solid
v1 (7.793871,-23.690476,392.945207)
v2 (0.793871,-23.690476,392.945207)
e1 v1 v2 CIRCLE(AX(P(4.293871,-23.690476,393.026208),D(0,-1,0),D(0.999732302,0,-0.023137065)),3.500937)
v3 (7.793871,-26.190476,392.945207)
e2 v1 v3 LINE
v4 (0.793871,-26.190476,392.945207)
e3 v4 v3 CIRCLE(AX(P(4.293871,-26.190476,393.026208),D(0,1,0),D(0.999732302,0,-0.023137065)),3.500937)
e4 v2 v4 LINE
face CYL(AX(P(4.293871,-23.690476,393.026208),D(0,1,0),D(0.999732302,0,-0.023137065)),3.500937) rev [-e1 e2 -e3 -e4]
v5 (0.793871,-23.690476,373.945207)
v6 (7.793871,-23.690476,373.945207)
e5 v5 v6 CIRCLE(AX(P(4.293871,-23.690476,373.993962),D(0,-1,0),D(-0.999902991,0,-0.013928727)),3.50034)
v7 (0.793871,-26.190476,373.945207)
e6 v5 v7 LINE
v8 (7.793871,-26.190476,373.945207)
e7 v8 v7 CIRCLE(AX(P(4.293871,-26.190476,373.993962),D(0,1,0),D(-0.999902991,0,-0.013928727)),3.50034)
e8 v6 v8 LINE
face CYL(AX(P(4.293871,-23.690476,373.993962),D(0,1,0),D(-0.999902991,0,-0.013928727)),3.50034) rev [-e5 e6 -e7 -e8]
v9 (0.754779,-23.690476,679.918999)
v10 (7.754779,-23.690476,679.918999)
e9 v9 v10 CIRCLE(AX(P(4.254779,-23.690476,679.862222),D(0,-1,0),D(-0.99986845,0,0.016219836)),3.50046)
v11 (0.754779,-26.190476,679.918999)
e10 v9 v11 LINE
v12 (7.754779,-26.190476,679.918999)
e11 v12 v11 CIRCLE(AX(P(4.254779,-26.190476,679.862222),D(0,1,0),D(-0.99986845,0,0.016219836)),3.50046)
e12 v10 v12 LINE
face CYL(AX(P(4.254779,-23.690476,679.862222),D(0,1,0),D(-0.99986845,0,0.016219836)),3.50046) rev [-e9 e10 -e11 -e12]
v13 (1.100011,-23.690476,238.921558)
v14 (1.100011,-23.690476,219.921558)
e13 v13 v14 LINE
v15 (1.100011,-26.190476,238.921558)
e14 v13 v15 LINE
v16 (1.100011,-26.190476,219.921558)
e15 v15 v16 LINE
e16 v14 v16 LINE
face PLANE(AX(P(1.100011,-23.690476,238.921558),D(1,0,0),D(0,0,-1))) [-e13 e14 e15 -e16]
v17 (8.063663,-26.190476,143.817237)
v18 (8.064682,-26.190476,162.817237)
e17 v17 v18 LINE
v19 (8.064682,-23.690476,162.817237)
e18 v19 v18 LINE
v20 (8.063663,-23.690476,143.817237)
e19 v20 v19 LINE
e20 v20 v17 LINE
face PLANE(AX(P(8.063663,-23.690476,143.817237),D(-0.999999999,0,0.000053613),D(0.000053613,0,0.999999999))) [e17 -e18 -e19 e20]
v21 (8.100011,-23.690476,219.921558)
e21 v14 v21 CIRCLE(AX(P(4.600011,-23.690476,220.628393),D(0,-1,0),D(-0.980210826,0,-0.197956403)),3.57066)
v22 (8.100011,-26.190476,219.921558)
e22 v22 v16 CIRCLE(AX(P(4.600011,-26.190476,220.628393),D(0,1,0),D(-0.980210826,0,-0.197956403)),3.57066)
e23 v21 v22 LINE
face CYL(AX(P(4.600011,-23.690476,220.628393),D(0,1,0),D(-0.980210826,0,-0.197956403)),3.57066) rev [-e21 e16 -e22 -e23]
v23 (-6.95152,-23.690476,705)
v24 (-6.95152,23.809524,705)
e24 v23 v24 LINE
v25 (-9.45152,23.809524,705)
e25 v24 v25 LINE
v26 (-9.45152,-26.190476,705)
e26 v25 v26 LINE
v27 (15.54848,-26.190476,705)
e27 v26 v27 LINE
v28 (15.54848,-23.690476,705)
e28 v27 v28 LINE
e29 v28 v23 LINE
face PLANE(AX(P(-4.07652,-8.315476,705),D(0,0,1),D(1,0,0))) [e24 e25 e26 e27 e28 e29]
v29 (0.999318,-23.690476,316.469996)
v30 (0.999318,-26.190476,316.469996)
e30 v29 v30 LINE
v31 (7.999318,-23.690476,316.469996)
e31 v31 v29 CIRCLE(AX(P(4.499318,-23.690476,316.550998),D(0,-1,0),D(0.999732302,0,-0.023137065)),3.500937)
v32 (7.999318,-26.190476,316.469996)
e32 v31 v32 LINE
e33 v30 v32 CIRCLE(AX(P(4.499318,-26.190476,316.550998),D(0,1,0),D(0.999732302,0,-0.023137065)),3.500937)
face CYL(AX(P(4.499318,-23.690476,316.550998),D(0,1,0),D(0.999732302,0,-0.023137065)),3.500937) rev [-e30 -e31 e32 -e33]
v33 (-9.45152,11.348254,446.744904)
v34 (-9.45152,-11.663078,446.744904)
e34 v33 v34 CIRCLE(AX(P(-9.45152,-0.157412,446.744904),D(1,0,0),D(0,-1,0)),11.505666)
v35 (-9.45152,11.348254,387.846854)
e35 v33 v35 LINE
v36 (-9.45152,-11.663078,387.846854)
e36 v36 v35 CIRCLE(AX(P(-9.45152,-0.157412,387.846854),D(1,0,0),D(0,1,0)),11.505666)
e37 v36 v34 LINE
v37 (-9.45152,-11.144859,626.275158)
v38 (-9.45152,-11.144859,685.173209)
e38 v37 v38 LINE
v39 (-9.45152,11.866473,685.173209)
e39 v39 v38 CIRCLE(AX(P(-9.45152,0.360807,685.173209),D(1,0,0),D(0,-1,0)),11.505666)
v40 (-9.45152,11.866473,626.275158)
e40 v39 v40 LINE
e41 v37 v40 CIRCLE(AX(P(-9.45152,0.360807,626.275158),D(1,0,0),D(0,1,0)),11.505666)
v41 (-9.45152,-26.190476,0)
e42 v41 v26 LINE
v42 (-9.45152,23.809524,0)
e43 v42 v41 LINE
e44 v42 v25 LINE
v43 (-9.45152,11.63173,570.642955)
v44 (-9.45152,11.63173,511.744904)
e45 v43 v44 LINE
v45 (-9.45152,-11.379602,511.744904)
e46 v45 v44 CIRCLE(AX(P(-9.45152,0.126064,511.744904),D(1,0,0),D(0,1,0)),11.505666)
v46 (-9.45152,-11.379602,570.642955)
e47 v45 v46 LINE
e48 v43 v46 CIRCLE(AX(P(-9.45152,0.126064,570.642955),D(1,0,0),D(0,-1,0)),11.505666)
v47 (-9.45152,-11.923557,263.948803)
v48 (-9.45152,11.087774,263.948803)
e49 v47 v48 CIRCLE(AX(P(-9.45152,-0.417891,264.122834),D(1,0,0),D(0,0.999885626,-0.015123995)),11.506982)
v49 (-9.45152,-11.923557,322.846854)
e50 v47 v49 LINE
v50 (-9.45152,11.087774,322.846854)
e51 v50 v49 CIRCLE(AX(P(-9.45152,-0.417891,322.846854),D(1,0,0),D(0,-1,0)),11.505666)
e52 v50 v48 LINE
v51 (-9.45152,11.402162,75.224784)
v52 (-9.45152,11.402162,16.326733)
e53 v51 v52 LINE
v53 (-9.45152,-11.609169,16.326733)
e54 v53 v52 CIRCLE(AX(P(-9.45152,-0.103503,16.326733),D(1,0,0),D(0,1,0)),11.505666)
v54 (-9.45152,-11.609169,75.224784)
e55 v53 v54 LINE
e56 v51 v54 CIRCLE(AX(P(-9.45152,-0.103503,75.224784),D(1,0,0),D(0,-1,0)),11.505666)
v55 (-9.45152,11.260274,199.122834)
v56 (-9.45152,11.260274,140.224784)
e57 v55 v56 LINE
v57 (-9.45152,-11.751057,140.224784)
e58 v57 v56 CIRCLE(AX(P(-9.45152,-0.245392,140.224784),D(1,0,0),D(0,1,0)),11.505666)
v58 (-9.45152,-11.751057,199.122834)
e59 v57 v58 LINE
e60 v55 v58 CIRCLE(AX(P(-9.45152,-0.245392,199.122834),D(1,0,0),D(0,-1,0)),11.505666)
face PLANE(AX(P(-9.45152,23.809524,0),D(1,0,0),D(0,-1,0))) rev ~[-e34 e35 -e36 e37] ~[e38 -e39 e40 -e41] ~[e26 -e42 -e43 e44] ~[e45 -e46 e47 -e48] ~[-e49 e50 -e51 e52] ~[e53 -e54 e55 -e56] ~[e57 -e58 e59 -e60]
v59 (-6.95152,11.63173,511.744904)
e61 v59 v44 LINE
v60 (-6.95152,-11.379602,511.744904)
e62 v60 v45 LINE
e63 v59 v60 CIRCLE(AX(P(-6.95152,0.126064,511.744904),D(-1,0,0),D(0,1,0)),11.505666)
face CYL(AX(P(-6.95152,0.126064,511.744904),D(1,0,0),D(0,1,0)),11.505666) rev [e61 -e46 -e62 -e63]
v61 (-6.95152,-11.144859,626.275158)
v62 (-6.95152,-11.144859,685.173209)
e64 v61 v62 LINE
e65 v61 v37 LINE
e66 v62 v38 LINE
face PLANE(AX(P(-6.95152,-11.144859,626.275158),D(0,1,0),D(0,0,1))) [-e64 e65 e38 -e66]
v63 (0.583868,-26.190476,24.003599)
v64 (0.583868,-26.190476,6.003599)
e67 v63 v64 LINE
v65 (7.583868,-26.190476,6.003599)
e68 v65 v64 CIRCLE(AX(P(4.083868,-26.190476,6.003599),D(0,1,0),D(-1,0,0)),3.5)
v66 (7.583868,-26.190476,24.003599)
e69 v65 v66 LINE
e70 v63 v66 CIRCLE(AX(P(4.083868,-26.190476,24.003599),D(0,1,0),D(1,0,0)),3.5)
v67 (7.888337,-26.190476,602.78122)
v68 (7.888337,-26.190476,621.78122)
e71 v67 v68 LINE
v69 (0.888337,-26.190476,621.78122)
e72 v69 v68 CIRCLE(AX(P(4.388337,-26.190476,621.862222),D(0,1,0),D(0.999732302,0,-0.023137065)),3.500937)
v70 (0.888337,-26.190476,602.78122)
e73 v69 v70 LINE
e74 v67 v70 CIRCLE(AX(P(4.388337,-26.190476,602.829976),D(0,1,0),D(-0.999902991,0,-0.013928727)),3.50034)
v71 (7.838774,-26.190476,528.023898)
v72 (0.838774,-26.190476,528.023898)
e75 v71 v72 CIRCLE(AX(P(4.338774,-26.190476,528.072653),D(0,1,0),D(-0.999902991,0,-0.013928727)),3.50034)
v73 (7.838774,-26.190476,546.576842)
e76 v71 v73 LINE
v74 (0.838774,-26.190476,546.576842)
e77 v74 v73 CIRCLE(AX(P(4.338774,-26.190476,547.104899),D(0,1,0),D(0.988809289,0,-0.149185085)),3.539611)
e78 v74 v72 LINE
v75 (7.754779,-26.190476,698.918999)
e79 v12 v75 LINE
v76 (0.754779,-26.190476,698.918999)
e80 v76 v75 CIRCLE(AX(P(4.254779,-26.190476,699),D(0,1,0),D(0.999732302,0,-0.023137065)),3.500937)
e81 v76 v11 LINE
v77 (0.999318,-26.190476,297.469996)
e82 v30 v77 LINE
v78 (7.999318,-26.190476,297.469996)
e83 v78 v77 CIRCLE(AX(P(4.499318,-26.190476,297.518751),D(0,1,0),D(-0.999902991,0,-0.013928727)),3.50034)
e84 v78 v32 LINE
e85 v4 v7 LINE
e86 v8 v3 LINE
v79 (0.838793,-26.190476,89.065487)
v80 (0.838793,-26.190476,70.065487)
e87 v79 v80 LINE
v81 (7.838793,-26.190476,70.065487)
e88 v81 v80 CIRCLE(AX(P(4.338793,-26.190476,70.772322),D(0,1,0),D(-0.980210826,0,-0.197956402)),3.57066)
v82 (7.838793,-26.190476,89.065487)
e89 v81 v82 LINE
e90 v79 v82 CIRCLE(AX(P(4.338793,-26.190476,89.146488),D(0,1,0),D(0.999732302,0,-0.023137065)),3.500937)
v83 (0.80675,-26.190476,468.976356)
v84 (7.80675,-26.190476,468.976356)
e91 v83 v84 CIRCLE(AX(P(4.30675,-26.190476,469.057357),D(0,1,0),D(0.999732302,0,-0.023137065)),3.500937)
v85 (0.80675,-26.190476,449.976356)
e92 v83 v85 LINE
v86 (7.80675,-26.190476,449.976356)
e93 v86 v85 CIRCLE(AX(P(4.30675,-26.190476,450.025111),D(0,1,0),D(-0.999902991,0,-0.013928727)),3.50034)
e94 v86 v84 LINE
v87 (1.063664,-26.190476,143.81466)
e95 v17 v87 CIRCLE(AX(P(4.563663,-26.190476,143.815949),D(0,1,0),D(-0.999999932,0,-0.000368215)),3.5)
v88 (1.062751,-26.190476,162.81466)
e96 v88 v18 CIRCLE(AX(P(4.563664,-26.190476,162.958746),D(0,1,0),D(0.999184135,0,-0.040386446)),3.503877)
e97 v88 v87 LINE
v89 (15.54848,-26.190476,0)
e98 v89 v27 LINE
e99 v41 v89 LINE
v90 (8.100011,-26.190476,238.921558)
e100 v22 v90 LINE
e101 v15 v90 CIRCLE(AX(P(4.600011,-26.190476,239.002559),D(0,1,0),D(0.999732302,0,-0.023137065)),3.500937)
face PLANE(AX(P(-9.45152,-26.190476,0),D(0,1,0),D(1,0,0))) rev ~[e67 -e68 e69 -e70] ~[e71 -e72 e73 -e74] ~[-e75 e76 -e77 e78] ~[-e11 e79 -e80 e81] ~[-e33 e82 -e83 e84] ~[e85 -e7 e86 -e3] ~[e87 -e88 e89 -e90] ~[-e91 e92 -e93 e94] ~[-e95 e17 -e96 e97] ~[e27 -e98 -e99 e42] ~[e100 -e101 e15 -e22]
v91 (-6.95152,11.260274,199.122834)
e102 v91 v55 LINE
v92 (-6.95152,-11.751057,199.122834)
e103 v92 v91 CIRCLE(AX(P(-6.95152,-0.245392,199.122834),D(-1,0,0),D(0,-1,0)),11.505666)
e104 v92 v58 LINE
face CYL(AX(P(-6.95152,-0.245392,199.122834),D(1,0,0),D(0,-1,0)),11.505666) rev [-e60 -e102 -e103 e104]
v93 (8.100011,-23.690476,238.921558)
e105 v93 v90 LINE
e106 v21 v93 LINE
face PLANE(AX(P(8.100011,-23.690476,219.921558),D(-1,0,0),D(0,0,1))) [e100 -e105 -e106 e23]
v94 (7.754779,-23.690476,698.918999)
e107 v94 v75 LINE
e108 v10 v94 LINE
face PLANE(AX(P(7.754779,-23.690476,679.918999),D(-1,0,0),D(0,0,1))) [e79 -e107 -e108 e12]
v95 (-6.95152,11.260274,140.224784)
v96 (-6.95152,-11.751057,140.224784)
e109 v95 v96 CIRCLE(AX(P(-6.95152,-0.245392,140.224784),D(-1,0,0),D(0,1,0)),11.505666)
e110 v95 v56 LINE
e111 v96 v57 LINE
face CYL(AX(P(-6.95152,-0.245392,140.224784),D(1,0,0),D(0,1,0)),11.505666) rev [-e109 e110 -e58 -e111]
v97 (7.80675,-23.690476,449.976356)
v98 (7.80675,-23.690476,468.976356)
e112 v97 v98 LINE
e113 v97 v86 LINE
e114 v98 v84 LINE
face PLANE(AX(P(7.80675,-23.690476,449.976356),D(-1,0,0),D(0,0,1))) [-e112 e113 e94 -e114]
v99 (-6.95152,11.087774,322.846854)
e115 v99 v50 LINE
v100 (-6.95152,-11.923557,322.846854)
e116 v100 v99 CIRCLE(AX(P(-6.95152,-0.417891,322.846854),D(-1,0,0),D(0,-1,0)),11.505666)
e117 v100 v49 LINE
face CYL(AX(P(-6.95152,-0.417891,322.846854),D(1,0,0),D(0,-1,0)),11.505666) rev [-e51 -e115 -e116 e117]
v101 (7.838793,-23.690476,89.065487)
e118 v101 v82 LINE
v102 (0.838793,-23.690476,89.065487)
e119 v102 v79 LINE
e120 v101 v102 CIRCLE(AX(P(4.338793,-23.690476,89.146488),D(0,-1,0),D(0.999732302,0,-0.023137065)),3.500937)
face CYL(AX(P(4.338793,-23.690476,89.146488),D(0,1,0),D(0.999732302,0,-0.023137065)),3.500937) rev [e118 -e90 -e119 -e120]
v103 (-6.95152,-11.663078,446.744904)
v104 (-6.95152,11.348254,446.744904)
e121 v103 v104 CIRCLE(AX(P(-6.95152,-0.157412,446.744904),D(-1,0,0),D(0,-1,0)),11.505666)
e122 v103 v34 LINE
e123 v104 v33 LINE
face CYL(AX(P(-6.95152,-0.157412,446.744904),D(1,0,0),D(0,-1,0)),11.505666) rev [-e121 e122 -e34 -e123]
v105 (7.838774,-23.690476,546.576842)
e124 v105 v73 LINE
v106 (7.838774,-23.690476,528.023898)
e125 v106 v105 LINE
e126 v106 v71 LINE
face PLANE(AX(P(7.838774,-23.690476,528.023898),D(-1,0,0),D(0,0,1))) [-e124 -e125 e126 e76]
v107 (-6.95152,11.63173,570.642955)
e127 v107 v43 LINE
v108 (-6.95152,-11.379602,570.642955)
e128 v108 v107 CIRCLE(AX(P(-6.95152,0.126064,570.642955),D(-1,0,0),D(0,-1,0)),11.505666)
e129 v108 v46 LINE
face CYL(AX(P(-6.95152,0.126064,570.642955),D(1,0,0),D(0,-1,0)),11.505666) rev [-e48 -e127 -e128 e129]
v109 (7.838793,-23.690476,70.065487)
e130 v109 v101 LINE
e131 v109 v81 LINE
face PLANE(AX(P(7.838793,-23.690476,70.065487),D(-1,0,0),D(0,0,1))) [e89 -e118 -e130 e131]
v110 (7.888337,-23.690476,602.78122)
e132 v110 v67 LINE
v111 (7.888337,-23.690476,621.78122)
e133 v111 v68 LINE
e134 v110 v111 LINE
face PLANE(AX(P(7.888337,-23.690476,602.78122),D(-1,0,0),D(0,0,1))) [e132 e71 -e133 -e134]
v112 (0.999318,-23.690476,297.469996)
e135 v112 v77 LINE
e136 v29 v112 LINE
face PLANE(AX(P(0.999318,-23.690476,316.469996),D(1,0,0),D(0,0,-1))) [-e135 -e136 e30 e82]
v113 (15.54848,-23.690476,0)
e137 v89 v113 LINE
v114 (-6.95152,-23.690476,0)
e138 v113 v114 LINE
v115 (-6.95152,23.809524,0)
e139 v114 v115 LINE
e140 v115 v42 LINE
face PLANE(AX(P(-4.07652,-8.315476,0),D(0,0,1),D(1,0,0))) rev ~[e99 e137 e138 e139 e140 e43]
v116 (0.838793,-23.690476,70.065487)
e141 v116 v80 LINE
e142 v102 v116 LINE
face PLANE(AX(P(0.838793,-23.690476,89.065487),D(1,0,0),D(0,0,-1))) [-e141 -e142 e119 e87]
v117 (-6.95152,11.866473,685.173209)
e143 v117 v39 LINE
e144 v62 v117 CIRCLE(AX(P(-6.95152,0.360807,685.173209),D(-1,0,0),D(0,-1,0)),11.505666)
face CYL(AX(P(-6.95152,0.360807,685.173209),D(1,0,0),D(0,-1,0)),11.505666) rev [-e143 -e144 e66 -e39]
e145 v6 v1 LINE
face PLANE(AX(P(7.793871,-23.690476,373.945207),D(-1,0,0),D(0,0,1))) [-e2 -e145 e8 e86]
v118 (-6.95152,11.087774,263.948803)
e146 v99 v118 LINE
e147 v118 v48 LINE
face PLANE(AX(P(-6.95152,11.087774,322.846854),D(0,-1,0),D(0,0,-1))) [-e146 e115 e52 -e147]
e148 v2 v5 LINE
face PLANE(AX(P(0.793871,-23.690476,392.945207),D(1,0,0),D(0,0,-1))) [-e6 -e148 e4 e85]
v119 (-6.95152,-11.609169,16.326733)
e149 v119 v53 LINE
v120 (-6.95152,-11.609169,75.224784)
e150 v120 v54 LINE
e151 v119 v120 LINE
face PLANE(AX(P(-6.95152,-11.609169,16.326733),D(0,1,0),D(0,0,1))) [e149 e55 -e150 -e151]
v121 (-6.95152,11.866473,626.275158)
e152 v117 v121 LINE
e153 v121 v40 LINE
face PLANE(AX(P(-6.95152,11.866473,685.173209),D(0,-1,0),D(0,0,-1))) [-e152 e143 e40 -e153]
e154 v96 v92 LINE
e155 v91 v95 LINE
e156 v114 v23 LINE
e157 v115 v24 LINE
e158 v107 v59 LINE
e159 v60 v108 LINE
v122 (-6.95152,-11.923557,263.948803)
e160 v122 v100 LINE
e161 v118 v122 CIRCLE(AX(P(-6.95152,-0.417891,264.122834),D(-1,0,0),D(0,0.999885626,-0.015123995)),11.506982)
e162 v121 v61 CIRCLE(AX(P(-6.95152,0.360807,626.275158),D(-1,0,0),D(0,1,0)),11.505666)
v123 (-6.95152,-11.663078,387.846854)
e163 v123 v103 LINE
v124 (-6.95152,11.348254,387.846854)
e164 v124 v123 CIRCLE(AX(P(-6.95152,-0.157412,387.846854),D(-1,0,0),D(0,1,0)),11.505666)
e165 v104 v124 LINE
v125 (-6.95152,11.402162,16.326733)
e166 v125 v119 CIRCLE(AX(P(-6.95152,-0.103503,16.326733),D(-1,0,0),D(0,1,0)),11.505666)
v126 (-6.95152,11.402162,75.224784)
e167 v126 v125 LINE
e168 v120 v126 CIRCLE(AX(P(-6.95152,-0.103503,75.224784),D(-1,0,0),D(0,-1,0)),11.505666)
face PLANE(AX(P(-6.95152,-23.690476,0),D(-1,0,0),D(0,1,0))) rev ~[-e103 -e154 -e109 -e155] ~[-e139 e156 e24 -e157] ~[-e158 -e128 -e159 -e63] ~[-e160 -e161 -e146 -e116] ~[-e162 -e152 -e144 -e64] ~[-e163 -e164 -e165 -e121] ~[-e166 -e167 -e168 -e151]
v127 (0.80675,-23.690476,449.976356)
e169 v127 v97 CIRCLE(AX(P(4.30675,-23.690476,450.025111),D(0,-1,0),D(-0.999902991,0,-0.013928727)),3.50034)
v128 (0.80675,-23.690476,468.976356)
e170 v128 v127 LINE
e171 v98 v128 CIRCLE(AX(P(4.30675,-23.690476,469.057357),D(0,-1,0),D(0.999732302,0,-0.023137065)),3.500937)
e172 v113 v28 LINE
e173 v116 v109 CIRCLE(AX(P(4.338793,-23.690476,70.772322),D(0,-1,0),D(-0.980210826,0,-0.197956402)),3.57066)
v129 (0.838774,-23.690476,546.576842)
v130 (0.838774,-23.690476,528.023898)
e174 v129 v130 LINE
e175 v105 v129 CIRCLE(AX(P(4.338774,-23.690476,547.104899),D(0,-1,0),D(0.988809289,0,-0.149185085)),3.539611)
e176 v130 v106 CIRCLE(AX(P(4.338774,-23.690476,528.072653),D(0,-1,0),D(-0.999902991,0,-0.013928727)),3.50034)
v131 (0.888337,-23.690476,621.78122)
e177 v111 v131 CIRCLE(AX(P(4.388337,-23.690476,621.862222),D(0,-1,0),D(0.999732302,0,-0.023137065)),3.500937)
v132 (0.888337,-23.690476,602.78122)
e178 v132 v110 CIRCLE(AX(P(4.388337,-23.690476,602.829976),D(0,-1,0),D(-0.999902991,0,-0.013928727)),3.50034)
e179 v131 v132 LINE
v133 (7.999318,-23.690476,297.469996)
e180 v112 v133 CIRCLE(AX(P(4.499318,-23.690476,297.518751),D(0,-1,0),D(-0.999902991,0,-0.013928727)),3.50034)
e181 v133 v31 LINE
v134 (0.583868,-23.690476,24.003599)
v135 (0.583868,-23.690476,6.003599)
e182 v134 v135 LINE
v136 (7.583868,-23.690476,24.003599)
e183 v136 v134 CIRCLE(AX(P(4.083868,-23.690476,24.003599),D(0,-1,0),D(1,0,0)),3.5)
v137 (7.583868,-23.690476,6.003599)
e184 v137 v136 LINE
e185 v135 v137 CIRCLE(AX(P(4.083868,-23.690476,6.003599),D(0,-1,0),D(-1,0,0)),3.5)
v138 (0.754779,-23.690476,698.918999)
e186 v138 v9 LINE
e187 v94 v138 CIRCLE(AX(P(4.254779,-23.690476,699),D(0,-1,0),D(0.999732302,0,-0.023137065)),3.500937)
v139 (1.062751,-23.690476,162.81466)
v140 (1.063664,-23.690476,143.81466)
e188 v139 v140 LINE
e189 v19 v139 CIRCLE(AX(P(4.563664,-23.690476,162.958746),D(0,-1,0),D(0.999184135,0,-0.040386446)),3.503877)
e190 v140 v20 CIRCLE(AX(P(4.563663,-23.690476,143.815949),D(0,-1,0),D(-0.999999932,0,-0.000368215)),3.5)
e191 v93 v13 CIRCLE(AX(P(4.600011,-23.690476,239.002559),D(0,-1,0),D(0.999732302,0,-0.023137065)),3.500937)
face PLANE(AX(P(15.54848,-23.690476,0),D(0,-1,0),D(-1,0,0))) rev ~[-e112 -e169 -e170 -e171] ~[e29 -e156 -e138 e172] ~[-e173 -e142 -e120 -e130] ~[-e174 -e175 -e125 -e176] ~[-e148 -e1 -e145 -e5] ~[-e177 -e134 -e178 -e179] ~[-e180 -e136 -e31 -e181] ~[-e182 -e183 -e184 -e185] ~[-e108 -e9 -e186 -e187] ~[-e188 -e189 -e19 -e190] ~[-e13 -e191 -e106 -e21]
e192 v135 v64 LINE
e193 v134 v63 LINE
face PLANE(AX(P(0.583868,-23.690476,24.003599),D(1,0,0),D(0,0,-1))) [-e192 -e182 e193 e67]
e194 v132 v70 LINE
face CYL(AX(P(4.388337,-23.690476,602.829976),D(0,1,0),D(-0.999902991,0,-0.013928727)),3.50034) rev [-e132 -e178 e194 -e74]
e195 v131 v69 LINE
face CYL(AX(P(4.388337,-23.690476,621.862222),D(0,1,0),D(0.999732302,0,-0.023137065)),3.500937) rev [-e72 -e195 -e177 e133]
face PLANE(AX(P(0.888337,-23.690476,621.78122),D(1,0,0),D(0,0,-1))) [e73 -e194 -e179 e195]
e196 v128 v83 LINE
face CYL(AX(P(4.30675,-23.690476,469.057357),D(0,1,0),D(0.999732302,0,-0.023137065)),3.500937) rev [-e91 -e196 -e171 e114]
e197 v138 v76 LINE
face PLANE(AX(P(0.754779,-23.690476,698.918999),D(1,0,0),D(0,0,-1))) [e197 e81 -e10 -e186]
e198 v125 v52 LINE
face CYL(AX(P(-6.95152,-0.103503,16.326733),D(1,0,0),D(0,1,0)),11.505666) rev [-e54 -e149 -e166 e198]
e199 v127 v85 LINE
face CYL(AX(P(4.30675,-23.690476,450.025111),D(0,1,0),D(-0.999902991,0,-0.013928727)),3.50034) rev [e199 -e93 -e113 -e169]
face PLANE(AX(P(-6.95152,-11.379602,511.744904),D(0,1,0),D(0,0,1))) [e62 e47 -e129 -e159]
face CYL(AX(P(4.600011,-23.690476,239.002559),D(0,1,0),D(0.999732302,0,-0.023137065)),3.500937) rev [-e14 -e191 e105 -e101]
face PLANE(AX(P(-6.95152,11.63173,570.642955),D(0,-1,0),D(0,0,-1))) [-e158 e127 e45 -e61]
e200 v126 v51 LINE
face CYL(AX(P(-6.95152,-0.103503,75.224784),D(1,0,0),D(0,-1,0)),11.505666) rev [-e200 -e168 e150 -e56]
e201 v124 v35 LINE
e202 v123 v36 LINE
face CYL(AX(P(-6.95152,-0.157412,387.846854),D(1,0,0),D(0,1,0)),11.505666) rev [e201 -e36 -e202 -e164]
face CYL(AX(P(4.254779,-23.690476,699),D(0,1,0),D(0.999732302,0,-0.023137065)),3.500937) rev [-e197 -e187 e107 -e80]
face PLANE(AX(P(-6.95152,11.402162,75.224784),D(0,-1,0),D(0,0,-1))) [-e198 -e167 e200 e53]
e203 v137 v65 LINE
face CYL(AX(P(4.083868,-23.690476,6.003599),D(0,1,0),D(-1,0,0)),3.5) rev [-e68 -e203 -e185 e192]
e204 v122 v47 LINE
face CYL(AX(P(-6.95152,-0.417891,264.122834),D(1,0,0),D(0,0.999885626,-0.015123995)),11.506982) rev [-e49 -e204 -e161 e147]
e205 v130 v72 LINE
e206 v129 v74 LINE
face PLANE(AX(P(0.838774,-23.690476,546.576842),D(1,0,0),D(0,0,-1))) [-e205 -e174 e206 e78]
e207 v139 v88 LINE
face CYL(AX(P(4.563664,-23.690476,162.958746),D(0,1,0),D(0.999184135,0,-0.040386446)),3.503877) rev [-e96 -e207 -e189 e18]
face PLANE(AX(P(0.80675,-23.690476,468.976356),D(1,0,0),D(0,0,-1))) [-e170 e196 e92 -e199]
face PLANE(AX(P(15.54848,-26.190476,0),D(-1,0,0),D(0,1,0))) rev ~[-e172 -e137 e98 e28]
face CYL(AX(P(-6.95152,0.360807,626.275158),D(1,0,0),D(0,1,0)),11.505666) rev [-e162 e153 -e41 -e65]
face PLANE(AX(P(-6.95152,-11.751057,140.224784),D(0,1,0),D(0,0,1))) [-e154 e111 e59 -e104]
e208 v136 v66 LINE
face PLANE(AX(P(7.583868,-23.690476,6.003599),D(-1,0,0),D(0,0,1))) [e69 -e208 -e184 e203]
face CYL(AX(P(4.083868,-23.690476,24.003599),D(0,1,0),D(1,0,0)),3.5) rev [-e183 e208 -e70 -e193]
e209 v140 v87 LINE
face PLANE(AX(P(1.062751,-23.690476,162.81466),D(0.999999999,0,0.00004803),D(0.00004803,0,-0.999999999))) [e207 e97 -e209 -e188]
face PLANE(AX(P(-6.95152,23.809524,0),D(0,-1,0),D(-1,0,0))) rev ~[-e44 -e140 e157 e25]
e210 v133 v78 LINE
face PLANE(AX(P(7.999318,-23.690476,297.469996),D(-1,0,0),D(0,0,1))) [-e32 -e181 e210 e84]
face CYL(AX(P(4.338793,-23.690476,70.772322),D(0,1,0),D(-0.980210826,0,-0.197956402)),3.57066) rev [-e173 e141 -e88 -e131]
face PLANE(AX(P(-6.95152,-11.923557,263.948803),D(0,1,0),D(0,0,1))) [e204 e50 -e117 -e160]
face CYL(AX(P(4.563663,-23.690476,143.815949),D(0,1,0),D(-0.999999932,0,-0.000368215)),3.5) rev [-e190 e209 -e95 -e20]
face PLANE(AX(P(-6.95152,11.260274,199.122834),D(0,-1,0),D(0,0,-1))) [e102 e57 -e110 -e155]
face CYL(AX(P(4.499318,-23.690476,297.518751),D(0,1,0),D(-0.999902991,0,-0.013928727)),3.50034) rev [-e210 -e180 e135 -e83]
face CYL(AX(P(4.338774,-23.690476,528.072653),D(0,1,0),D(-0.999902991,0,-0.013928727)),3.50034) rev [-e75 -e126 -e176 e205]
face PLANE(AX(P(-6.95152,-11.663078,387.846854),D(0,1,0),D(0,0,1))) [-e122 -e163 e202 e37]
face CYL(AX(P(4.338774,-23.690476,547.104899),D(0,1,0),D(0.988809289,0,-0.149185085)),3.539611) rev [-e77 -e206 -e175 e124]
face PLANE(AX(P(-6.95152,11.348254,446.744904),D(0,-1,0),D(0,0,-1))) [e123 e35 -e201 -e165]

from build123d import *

# Parameters (mm, degrees)
BOSS_EXTRUDE1_DEPTH = 705
CUT_EXTRUDE2_DEPTH  = 10
CUT_EXTRUDE3_DEPTH  = 10


with BuildPart() as part:
    # Sketch1 → Boss-Extrude1 (new body)
    with BuildSketch(Plane.XY):
        Polygon((-9.451520251, 23.80952381), (-9.451520251, -26.19047619), (15.548479749, -26.19047619), (15.548479749, -23.69047619), (-6.951520251, -23.69047619), (-6.951520251, 23.80952381), align=None)
    extrude(amount=BOSS_EXTRUDE1_DEPTH)

    # Sketch3 → Cut-Extrude2 (cut)
    with BuildSketch(Plane(origin=(0, -23.69047619, 0), x_dir=(1, 0, 0), z_dir=(0, 1, 0))):
        with BuildLine():
            Line((1.100010518, -238.921557585), (1.100010518, -219.921557585))
            ThreePointArc((1.100010518, -219.921557585), (4.600010518, -217.057732255), (8.100010518, -219.921557585))
            Line((8.100010518, -219.921557585), (8.100010518, -238.921557585))
            ThreePointArc((8.100010518, -238.921557585), (4.600010518, -242.50349619), (1.100010518, -238.921557585))
        make_face()
        with BuildLine():
            Line((1.062751019, -162.814659823), (1.06366359, -143.814659845))
            ThreePointArc((1.06366359, -143.814659845), (4.564952106, -140.315948836), (8.063663115, -143.817237352))
            Line((8.063663115, -143.817237352), (8.064681771, -162.817237325))
            ThreePointArc((8.064681771, -162.817237325), (4.562374007, -166.462622847), (1.062751019, -162.814659823))
        make_face()
        with BuildLine():
            Line((0.583868221, -24.003598612), (0.583868221, -6.003598612))
            ThreePointArc((0.583868221, -6.003598612), (4.083868221, -2.503598612), (7.583868221, -6.003598612))
            Line((7.583868221, -6.003598612), (7.583868221, -24.003598612))
            ThreePointArc((7.583868221, -24.003598612), (4.083868221, -27.503598612), (0.583868221, -24.003598612))
        make_face()
        with BuildLine():
            Line((0.999318179, -316.46999614), (0.999318179, -297.46999614))
            ThreePointArc((0.999318179, -297.46999614), (4.499318179, -294.01841185), (7.999318179, -297.46999614))
            Line((7.999318179, -297.46999614), (7.999318179, -316.46999614))
            ThreePointArc((7.999318179, -316.46999614), (4.499318179, -320.051934745), (0.999318179, -316.46999614))
        make_face()
        with BuildLine():
            Line((0.793870885, -392.945206895), (0.793870885, -373.945206895))
            ThreePointArc((0.793870885, -373.945206895), (4.293870885, -370.493622604), (7.793870885, -373.945206895))
            Line((7.793870885, -373.945206895), (7.793870885, -392.945206895))
            ThreePointArc((7.793870885, -392.945206895), (4.293870885, -396.527145499), (0.793870885, -392.945206895))
        make_face()
        with BuildLine():
            Line((0.80674983, -468.976356015), (0.80674983, -449.976356015))
            ThreePointArc((0.80674983, -449.976356015), (4.30674983, -446.524771725), (7.80674983, -449.976356015))
            Line((7.80674983, -449.976356015), (7.80674983, -468.976356015))
            ThreePointArc((7.80674983, -468.976356015), (4.30674983, -472.55829462), (0.80674983, -468.976356015))
        make_face()
        with BuildLine():
            Line((0.838773895, -546.576842351), (0.838773895, -528.023898071))
            ThreePointArc((0.838773895, -528.023898071), (4.338773895, -524.572313781), (7.838773895, -528.023898071))
            Line((7.838773895, -528.023898071), (7.838773895, -546.576842351))
            ThreePointArc((7.838773895, -546.576842351), (4.338773895, -550.644510243), (0.838773895, -546.576842351))
        make_face()
        with BuildLine():
            Line((0.888336666, -621.781220279), (0.888336666, -602.781220279))
            ThreePointArc((0.888336666, -602.781220279), (4.388336666, -599.329635989), (7.888336666, -602.781220279))
            Line((7.888336666, -602.781220279), (7.888336666, -621.781220279))
            ThreePointArc((7.888336666, -621.781220279), (4.388336666, -625.363158884), (0.888336666, -621.781220279))
        make_face()
        with BuildLine():
            Line((0.754778841, -698.918998588), (0.754778841, -679.918998588))
            ThreePointArc((0.754778841, -679.918998588), (4.254778841, -676.361761205), (7.754778841, -679.918998588))
            Line((7.754778841, -679.918998588), (7.754778841, -698.918998588))
            ThreePointArc((7.754778841, -698.918998588), (4.254778841, -702.500937193), (0.754778841, -698.918998588))
        make_face()
        with BuildLine():
            Line((0.838792542, -89.065486865), (0.838792542, -70.065486865))
            ThreePointArc((0.838792542, -70.065486865), (4.338792542, -67.201661534), (7.838792542, -70.065486865))
            Line((7.838792542, -70.065486865), (7.838792542, -89.065486865))
            ThreePointArc((7.838792542, -89.065486865), (4.338792542, -92.647425469), (0.838792542, -89.065486865))
        make_face()
    extrude(amount=-CUT_EXTRUDE2_DEPTH, mode=Mode.SUBTRACT)

    # Sketch2 → Cut-Extrude3 (cut)
    with BuildSketch(Plane(origin=(-6.951520251, 0, 0), x_dir=(0, 0, -1), z_dir=(1, 0, 0))):
        with BuildLine():
            Line((-685.173208755, 11.86647277), (-626.275157977, 11.86647277))
            ThreePointArc((-626.275157977, 11.86647277), (-614.769492243, 0.360807036), (-626.275157977, -11.144858697))
            Line((-626.275157977, -11.144858697), (-685.173208755, -11.144858697))
            ThreePointArc((-685.173208755, -11.144858697), (-696.678874489, 0.360807036), (-685.173208755, 11.86647277))
        make_face()
        with BuildLine():
            Line((-570.642955191, 11.631729837), (-511.744904413, 11.631729837))
            ThreePointArc((-511.744904413, 11.631729837), (-500.239238679, 0.126064103), (-511.744904413, -11.379601631))
            Line((-511.744904413, -11.379601631), (-570.642955191, -11.379601631))
            ThreePointArc((-570.642955191, -11.379601631), (-582.148620925, 0.126064103), (-570.642955191, 11.631729837))
        make_face()
        with BuildLine():
            Line((-446.744904413, 11.34825395), (-387.846853634, 11.34825395))
            ThreePointArc((-387.846853634, 11.34825395), (-376.3411879, -0.157411783), (-387.846853634, -11.663077517))
            Line((-387.846853634, -11.663077517), (-446.744904413, -11.663077517))
            ThreePointArc((-446.744904413, -11.663077517), (-458.250570146, -0.157411783), (-446.744904413, 11.34825395))
        make_face()
        with BuildLine():
            Line((-322.846853634, 11.087774361), (-263.948802855, 11.087774361))
            ThreePointArc((-263.948802855, 11.087774361), (-252.615852555, -0.417891372), (-263.948802855, -11.923557106))
            Line((-263.948802855, -11.923557106), (-322.846853634, -11.923557106))
            ThreePointArc((-322.846853634, -11.923557106), (-334.352519367, -0.417891372), (-322.846853634, 11.087774361))
        make_face()
        with BuildLine():
            Line((-199.12283439, 11.260273997), (-140.224783611, 11.260273997))
            ThreePointArc((-140.224783611, 11.260273997), (-128.719117878, -0.245391736), (-140.224783611, -11.75105747))
            Line((-140.224783611, -11.75105747), (-199.12283439, -11.75105747))
            ThreePointArc((-199.12283439, -11.75105747), (-210.628500124, -0.245391736), (-199.12283439, 11.260273997))
        make_face()
        with BuildLine():
            Line((-75.224783611, 11.402162448), (-16.326732833, 11.402162448))
            ThreePointArc((-16.326732833, 11.402162448), (-4.821067099, -0.103503285), (-16.326732833, -11.609169019))
            Line((-16.326732833, -11.609169019), (-75.224783611, -11.609169019))
            ThreePointArc((-75.224783611, -11.609169019), (-86.730449345, -0.103503285), (-75.224783611, 11.402162448))
        make_face()
    extrude(amount=-CUT_EXTRUDE3_DEPTH, mode=Mode.SUBTRACT)


solid = part.part
